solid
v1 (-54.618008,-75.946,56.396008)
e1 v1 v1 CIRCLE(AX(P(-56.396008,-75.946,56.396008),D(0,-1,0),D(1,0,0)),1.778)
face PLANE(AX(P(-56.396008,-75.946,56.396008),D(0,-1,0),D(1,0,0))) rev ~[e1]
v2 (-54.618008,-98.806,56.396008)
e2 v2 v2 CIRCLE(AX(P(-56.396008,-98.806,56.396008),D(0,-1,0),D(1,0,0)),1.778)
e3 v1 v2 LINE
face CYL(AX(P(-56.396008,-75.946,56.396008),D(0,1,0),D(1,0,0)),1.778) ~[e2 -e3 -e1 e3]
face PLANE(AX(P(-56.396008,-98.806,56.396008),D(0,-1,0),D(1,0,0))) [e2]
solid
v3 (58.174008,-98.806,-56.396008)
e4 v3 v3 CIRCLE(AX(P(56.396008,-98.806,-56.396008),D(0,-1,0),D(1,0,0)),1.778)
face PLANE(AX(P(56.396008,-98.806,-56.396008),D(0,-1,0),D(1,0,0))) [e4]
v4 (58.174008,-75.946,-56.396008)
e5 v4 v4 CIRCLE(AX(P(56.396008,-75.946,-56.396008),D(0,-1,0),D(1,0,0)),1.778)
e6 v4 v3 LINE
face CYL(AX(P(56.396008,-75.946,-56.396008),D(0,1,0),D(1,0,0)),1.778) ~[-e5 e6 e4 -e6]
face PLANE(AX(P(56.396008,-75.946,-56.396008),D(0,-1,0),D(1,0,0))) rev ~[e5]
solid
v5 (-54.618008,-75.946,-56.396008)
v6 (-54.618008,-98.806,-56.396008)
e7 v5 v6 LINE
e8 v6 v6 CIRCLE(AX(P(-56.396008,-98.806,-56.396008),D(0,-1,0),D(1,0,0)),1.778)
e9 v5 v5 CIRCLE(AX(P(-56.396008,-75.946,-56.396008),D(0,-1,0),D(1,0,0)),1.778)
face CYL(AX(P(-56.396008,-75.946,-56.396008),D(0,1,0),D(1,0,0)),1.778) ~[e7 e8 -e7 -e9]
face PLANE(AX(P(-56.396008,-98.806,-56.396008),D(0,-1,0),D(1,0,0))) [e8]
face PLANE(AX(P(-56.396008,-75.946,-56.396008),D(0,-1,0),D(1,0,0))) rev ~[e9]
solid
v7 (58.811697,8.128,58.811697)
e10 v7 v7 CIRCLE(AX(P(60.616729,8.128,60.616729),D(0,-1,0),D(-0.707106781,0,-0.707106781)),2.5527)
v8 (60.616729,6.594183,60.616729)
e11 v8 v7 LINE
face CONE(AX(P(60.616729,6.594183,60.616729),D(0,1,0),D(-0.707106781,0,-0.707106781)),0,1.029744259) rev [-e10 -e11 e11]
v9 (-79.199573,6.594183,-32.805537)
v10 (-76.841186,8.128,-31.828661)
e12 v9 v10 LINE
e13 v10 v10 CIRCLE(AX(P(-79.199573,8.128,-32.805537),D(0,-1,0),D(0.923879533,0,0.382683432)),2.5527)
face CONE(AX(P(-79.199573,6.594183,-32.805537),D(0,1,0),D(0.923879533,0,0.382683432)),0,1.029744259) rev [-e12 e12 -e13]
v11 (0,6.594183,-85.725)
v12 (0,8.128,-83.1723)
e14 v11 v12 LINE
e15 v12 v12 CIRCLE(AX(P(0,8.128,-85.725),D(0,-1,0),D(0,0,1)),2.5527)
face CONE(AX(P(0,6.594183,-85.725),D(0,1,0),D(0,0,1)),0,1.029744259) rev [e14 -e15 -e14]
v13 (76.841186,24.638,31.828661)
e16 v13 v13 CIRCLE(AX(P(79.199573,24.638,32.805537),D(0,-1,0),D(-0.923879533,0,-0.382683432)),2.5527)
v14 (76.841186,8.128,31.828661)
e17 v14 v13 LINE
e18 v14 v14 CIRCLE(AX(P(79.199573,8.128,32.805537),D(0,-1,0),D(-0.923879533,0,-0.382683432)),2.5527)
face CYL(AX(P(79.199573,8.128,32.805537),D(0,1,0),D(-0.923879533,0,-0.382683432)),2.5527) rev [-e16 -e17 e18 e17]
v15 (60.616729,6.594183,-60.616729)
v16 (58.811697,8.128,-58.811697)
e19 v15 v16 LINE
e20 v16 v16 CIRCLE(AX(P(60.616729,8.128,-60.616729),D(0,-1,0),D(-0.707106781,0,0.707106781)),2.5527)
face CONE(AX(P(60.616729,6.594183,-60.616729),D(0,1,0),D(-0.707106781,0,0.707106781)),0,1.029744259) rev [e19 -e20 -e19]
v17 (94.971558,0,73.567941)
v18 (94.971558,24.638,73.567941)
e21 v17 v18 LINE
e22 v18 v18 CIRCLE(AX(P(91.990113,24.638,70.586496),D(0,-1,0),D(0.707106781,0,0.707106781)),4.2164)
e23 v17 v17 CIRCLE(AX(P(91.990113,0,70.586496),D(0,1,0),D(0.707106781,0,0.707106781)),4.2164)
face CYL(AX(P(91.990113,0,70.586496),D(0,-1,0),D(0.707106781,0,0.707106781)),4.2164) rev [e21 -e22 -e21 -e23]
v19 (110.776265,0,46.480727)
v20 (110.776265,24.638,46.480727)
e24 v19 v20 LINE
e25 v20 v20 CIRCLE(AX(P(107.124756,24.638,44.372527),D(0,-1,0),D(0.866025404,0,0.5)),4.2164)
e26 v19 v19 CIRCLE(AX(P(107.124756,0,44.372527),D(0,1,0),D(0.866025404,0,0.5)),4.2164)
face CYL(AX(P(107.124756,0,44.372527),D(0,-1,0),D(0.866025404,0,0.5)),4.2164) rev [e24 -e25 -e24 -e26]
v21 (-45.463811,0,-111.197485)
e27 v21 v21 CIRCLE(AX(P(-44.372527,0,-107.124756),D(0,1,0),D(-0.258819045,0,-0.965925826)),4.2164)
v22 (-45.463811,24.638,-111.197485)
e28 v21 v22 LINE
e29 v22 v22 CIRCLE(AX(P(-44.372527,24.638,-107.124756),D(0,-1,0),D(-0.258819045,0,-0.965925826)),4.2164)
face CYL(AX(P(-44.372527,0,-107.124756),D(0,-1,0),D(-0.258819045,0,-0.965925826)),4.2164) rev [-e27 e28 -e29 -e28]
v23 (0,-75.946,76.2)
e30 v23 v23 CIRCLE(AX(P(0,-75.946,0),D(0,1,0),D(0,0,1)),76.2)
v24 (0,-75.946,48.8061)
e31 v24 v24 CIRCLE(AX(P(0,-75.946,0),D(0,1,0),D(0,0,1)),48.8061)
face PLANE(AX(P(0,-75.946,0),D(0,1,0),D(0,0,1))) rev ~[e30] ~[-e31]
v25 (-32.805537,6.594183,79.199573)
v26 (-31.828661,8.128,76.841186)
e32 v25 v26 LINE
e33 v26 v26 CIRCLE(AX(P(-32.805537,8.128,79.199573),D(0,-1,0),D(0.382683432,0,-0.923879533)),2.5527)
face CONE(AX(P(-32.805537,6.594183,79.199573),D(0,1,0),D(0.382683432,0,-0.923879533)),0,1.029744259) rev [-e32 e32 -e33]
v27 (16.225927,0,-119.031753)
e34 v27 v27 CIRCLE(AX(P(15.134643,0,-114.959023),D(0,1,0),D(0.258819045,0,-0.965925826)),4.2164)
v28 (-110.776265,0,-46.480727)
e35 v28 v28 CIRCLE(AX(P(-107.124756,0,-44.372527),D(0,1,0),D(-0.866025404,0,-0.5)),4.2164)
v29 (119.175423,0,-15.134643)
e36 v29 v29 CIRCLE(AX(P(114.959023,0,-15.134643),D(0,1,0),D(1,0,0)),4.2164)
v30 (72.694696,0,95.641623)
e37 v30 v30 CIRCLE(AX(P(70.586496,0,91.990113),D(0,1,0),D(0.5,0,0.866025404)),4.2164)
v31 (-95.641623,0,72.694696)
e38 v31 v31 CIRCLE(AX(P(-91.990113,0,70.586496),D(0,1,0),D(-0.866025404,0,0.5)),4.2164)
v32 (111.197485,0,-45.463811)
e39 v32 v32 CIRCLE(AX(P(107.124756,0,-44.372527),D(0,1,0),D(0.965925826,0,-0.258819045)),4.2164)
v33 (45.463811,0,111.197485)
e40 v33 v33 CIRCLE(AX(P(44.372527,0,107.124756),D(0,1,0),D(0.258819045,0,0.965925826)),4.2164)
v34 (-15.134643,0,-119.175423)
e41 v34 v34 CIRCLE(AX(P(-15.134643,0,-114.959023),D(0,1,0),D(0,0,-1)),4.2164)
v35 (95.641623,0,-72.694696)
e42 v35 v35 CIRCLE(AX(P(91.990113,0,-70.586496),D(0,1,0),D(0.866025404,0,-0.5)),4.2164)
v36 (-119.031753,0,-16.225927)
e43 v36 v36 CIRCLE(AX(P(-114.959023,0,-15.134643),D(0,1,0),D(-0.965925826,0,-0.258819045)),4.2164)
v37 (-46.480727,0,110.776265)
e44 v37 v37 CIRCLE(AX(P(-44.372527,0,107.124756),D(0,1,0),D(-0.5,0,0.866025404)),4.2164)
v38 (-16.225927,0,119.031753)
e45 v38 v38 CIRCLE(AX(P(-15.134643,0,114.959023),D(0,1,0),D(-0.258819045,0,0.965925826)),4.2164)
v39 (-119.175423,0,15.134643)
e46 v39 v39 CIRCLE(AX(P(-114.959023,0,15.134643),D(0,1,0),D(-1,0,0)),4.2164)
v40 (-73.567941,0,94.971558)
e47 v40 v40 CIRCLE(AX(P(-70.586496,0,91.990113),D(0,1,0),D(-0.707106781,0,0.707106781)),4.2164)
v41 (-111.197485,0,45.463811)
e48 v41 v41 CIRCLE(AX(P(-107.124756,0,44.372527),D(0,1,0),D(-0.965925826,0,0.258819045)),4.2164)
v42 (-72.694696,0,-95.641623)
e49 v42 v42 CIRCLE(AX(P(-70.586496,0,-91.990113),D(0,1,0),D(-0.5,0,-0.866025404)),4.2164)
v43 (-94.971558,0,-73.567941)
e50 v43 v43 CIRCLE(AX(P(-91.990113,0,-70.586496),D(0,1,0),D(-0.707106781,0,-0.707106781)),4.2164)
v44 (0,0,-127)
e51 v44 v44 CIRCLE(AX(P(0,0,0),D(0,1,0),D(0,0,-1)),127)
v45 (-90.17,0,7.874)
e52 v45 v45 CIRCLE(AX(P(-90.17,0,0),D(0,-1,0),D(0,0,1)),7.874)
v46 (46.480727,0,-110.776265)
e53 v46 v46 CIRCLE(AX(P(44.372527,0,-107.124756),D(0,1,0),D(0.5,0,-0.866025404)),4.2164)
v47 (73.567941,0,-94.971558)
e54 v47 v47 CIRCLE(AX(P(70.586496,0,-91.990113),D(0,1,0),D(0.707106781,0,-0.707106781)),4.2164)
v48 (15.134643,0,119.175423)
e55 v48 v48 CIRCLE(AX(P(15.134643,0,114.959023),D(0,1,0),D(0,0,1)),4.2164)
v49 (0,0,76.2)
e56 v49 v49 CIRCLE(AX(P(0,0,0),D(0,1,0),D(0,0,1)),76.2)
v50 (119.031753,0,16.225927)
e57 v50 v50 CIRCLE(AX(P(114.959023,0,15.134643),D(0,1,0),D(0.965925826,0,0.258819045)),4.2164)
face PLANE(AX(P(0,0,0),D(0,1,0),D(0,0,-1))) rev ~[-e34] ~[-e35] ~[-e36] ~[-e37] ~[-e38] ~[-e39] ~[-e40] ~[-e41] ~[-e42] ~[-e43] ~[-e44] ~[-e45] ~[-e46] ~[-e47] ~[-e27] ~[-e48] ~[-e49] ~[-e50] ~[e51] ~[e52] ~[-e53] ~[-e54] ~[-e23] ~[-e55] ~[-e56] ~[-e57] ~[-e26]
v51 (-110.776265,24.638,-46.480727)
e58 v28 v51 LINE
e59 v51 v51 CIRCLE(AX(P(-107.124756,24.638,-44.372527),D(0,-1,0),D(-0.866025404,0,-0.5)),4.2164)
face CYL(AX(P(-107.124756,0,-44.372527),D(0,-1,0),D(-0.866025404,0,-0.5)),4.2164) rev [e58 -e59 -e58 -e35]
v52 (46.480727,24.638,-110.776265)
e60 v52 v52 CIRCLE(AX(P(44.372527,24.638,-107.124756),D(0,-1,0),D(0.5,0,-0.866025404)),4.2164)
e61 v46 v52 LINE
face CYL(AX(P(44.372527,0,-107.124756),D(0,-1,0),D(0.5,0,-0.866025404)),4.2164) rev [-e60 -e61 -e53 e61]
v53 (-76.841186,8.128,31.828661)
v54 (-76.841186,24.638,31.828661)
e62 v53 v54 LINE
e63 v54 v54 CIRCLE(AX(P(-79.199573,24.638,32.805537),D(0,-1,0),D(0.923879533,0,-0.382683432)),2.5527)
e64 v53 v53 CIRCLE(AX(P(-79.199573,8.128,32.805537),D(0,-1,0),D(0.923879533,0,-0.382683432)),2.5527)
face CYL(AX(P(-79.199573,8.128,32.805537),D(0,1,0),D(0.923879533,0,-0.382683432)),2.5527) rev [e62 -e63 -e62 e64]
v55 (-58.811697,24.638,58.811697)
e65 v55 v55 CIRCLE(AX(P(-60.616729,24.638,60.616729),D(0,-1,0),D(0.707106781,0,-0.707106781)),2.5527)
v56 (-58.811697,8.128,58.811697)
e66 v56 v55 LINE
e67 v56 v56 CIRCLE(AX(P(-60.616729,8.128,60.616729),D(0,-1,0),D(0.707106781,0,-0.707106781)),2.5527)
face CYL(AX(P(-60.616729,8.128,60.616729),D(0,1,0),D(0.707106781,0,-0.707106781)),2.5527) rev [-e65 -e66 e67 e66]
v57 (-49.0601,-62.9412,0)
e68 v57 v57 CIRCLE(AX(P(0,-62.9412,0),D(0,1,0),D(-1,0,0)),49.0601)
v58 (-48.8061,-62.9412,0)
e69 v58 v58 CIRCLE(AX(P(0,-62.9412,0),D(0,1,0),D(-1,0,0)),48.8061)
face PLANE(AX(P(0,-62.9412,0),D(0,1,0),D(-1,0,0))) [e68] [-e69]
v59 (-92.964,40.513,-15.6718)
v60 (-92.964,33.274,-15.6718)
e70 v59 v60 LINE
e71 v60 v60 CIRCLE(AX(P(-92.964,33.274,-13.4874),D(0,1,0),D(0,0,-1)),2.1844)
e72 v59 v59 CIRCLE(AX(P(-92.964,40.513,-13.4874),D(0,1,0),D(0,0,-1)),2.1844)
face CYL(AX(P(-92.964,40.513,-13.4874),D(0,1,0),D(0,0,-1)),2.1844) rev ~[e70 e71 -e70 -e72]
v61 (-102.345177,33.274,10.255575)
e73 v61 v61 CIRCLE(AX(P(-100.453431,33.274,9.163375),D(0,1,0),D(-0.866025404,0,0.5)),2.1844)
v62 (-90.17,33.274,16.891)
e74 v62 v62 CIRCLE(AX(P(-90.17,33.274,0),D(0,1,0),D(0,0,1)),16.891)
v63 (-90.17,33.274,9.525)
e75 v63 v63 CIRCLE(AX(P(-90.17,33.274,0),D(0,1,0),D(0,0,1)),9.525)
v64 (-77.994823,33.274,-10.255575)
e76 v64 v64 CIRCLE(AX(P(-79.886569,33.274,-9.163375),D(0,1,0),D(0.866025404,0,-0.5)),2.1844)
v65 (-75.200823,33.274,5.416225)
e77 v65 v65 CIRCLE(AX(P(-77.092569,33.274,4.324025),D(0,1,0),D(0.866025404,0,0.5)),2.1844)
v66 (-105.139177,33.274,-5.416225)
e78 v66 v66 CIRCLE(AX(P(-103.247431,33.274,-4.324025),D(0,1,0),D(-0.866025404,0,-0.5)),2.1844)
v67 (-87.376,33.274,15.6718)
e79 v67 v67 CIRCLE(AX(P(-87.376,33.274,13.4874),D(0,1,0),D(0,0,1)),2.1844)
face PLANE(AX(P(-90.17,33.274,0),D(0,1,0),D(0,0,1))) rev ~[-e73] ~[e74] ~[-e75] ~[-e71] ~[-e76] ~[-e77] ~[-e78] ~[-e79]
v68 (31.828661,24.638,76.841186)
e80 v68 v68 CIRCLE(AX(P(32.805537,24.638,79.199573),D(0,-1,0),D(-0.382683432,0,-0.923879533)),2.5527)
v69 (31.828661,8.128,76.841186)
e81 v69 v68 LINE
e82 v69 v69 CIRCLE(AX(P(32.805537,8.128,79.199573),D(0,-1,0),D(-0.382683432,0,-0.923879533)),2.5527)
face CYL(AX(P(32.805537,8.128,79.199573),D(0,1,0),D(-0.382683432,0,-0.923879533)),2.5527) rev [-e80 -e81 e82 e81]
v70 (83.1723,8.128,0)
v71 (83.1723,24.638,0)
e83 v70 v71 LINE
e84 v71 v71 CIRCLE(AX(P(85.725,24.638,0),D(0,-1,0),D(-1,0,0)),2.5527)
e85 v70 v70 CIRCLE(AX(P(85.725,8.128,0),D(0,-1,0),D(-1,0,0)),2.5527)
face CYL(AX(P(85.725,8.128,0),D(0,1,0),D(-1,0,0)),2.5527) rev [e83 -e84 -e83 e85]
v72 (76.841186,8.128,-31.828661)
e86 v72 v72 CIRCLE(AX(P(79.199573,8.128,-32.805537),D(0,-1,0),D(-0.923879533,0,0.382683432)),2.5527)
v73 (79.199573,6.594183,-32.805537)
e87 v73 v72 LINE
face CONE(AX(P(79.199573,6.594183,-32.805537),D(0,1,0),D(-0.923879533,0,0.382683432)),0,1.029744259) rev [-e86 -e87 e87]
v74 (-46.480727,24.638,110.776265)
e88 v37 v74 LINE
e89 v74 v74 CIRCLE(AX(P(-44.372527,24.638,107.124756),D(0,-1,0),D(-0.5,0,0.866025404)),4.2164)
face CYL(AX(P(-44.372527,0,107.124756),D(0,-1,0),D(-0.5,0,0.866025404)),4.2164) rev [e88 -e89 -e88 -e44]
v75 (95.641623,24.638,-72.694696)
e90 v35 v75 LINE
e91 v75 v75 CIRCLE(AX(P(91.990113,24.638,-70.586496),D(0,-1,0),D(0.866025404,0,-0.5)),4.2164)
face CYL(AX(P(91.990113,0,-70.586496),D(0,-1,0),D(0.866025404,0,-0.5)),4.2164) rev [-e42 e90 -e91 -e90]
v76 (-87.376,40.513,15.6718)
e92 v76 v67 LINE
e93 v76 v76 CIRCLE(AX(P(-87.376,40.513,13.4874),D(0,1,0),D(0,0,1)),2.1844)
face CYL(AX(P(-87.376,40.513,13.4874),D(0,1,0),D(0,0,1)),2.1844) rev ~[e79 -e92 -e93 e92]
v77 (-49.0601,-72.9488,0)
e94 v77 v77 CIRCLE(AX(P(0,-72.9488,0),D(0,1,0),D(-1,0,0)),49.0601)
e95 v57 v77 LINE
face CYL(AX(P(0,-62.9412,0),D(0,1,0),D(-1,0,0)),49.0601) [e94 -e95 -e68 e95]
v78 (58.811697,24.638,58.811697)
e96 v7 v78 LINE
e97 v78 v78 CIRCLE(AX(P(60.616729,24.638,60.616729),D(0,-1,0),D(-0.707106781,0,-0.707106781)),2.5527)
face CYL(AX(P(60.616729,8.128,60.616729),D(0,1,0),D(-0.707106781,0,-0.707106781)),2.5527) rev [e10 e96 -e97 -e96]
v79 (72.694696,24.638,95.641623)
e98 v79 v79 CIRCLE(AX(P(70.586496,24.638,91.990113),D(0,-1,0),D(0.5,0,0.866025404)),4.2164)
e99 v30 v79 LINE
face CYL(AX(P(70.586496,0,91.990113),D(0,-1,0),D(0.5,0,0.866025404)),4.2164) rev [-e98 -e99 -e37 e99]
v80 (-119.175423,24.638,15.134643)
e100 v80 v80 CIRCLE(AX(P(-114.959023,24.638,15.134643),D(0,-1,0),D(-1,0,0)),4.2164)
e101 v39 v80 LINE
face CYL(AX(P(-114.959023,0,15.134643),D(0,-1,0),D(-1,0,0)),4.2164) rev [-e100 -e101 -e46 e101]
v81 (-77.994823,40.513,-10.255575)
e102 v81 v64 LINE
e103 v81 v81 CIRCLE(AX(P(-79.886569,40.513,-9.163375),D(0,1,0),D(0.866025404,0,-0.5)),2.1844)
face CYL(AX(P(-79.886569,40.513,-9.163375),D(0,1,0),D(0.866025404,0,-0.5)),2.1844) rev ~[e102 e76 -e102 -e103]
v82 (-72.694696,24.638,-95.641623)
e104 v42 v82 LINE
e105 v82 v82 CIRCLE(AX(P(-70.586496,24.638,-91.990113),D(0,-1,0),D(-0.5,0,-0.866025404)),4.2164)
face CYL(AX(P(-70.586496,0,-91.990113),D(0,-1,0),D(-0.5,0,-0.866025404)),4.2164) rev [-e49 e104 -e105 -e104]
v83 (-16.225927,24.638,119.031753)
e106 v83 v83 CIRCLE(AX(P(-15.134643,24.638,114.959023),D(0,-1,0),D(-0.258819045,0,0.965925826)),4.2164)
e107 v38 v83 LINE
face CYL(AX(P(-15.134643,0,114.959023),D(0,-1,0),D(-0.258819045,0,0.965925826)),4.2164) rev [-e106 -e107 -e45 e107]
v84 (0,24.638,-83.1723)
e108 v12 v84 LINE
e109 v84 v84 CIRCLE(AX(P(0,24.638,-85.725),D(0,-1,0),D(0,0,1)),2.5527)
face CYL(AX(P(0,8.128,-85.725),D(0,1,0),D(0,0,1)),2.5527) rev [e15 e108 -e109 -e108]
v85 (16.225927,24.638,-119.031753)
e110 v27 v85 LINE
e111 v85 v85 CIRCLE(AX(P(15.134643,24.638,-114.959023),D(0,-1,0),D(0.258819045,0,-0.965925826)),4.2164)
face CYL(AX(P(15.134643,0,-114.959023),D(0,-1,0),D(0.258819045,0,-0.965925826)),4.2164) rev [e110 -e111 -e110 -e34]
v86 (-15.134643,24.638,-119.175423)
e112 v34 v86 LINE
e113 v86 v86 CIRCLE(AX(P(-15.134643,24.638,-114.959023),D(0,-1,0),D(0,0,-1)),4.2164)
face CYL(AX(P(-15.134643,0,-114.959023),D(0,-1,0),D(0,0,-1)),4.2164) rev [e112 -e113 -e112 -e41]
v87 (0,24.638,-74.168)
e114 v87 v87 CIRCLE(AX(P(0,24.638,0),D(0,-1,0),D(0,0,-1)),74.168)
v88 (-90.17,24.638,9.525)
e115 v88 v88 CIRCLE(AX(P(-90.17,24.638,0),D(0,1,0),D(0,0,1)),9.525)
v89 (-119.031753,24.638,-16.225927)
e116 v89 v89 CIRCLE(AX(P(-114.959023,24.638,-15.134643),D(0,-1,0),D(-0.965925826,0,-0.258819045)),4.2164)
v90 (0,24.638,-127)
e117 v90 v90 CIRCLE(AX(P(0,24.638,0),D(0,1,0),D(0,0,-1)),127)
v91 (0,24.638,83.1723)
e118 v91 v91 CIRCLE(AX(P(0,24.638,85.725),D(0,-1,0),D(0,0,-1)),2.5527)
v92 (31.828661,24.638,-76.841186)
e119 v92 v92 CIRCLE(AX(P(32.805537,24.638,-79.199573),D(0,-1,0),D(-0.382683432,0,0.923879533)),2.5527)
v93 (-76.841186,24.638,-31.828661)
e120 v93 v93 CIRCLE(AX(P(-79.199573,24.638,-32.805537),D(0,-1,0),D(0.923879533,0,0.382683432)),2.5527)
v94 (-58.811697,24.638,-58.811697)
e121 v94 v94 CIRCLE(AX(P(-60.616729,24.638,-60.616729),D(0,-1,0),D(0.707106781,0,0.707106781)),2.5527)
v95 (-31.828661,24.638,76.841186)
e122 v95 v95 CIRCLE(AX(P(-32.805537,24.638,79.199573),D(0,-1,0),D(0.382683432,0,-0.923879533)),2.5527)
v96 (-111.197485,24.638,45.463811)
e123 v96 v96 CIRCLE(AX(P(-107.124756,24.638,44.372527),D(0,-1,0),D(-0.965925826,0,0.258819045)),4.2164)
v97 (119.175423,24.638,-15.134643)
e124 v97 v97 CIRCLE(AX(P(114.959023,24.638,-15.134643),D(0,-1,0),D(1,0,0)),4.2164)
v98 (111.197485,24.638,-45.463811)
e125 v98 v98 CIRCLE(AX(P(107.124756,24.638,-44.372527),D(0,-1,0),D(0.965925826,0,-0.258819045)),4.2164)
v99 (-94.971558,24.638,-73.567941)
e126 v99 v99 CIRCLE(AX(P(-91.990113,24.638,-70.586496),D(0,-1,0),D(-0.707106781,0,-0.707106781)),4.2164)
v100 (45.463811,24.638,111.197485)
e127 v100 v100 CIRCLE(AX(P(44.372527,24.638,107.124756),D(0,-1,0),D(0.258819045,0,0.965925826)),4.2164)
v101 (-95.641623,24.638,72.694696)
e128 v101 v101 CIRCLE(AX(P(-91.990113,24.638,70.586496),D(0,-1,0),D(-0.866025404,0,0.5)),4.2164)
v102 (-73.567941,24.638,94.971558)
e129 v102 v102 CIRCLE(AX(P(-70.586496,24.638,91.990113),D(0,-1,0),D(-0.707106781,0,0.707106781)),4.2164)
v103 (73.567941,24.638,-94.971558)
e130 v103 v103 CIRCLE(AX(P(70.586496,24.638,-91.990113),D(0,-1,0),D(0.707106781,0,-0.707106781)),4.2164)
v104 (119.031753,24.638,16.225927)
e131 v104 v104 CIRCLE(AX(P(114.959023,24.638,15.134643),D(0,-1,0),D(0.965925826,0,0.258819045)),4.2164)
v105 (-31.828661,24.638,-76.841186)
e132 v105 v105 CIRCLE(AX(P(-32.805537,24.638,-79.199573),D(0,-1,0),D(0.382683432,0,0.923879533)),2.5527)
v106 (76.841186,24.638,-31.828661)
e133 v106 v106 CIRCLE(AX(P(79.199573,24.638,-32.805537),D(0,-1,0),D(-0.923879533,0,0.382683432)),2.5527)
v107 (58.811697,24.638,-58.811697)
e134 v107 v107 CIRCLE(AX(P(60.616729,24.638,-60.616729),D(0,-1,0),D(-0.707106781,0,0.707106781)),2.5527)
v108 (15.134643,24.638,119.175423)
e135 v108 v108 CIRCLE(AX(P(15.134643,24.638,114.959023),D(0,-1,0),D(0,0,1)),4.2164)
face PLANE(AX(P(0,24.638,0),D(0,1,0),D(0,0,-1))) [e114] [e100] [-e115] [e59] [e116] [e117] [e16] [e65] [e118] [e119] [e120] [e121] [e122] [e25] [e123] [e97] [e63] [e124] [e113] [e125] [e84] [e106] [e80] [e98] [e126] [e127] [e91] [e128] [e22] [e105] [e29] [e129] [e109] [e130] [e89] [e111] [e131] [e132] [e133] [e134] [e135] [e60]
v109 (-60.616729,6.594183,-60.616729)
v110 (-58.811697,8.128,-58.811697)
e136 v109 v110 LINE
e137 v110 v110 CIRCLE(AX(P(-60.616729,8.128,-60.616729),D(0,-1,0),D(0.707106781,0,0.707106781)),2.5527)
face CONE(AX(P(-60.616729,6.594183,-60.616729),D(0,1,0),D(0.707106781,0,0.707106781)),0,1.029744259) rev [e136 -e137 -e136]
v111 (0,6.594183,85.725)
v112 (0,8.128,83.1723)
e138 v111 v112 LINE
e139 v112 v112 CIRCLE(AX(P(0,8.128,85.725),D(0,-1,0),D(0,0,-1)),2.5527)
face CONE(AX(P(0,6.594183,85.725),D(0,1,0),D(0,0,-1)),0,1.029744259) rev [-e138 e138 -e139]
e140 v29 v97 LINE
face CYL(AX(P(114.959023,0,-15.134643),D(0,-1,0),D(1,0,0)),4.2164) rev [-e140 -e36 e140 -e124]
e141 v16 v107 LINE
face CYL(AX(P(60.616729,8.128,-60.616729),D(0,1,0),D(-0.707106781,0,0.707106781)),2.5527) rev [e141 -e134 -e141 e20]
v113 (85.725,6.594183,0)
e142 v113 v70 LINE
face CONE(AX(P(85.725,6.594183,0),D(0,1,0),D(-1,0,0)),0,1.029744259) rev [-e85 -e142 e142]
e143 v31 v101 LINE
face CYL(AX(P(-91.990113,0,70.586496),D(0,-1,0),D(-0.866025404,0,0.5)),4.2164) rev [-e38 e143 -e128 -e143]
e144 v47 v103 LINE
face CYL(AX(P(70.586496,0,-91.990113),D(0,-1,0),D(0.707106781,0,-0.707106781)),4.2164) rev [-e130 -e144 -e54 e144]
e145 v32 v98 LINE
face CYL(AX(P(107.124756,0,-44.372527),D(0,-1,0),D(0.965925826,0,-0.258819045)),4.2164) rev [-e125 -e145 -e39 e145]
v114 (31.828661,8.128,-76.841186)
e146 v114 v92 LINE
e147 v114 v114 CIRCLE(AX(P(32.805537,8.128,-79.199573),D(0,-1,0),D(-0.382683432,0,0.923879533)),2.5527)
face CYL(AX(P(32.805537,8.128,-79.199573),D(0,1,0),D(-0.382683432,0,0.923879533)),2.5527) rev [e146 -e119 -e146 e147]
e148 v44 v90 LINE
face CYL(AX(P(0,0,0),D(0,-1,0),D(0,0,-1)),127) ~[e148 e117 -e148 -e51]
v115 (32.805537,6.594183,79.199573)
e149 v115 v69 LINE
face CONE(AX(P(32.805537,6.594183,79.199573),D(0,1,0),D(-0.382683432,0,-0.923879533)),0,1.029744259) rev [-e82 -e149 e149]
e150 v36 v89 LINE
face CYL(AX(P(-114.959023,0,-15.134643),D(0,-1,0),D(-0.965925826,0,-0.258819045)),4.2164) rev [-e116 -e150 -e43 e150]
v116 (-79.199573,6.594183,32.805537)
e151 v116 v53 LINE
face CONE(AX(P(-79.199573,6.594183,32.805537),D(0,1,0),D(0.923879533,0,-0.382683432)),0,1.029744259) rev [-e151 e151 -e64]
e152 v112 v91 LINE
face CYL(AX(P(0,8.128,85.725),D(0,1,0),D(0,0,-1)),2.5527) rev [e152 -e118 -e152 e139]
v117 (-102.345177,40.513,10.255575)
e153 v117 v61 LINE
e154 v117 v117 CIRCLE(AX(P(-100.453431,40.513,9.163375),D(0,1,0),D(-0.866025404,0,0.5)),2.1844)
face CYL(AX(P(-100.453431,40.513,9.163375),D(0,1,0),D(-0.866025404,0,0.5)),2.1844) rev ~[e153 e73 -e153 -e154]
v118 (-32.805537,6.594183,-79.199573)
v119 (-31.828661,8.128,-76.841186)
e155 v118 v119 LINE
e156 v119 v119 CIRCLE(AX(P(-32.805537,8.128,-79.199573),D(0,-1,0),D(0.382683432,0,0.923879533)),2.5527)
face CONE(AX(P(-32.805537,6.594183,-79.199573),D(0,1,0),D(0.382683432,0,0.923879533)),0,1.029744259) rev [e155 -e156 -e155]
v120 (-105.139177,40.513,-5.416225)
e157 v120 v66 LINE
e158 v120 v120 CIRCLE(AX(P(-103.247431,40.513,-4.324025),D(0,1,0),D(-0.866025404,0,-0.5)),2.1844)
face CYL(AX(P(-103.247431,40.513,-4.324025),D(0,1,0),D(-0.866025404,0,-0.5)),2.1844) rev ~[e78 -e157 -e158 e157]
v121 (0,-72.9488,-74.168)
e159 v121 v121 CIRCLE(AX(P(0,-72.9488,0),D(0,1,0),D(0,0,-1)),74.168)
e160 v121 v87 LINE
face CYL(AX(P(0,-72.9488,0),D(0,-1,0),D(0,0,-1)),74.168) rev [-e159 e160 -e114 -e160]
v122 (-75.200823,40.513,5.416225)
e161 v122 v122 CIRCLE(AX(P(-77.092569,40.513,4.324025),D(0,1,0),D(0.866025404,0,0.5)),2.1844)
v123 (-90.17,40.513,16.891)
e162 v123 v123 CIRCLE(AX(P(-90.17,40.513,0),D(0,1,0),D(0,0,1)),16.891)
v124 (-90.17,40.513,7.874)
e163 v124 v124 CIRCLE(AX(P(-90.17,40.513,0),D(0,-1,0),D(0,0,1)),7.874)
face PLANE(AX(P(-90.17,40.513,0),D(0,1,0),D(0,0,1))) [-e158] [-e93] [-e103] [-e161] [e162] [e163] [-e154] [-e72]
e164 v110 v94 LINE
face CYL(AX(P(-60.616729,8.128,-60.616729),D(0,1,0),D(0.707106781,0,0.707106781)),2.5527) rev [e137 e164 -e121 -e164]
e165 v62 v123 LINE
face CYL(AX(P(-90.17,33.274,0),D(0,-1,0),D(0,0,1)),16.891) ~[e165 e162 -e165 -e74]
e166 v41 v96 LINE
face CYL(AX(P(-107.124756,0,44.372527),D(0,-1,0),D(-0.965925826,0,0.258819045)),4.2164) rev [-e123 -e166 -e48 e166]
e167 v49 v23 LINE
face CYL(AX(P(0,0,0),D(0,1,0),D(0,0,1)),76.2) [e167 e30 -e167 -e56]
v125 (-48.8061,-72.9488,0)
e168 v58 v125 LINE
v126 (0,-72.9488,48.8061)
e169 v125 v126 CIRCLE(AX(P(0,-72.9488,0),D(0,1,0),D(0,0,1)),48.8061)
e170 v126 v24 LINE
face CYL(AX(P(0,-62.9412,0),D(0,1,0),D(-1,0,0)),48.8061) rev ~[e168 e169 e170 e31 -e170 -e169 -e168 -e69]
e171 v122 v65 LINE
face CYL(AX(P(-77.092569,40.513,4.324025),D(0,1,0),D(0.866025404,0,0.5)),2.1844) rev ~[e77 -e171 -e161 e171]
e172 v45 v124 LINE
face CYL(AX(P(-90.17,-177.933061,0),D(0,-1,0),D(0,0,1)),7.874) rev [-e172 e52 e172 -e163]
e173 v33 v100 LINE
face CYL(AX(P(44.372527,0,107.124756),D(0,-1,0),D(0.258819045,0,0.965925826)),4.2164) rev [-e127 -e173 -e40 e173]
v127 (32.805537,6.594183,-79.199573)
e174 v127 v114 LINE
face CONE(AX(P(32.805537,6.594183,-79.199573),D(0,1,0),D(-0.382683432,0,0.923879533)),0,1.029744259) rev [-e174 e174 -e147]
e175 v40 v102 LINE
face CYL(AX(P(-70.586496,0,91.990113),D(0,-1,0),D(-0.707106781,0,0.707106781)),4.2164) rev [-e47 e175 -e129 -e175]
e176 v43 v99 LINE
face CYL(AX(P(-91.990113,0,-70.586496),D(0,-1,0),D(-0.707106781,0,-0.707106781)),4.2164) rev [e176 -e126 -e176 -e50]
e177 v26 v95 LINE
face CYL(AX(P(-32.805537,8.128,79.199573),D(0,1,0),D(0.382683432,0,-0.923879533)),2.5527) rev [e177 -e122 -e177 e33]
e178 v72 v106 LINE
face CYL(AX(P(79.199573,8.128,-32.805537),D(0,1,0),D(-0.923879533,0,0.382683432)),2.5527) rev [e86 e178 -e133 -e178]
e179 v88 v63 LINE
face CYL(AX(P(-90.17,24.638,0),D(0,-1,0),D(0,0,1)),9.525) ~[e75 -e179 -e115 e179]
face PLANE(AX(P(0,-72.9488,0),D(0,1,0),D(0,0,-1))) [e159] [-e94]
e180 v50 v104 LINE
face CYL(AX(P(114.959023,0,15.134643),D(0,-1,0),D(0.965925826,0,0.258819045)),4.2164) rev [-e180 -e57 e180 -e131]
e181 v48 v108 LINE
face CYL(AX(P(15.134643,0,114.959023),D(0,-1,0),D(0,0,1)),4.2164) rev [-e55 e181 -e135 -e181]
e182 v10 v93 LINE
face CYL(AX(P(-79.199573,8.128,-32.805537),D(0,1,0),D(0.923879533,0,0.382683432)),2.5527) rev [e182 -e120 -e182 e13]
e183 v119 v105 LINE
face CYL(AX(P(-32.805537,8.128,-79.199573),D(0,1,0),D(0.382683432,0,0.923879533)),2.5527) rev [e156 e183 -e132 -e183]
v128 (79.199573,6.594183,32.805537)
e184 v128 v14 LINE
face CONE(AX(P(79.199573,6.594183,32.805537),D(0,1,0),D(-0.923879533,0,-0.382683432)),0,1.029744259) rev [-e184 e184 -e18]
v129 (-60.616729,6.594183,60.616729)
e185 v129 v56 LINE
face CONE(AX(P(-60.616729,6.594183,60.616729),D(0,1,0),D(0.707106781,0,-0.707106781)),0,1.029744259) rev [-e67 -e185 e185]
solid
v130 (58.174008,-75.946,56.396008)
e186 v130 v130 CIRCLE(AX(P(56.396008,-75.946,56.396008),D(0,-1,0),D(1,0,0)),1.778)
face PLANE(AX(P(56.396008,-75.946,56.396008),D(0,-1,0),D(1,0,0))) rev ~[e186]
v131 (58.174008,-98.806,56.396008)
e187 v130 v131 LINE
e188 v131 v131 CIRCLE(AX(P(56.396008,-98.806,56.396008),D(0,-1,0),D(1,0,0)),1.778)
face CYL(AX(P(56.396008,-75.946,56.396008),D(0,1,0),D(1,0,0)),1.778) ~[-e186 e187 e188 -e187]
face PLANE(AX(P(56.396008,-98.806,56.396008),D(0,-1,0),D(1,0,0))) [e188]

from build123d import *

# Parameters (mm, degrees)
SKETCH1_R               = 76.2
EXTRUDE1_DEPTH          = 75.946
SKETCH2_R               = 127
EXTRUDE2_DEPTH          = 24.638
CUT_EXTRUDE1_DEPTH      = 196.002038236
CUT_EXTRUDE1_DEPTH_BACK = 72.9488
SKETCH3_R               = 74.168
SKETCH4_R               = 48.8061
CUT_EXTRUDE2_DEPTH      = 196.002038236
CIRPATTERN2_COUNT       = 16
SKETCH5_R               = 4.2164
CUT_EXTRUDE5_DEPTH      = 196.002038236
CIRPATTERN3_COUNT       = 24
SKETCH16_R              = 9.525
EXTRUDE3_DEPTH          = 8.636
SKETCH17_R              = 16.891
EXTRUDE5_DEPTH          = 7.239
CUT_EXTRUDE6_DEPTH      = 211.207060776
CUT_EXTRUDE6_DEPTH_BACK = 211.207060776
SKETCH21_R              = 7.874
SKETCH22_R              = 2.1844
CUT_EXTRUDE7_DEPTH      = 7.239
CIRPATTERN4_COUNT       = 6
EXTRUDE_THIN1_START     = 10.0076
SKETCH25_R              = 49.0601
SKETCH25_R_2            = 48.8061
EXTRUDE_THIN1_DEPTH     = 10.0076
SKETCH29_R              = 1.778
EXTRUDE7_DEPTH          = 22.86
EXTRUDE7_2_DEPTH        = 22.86
EXTRUDE7_3_DEPTH        = 22.86
EXTRUDE7_4_DEPTH        = 22.86


with BuildPart() as part:
    # Sketch1 → Extrude1 (new body)
    with BuildSketch(Plane(origin=(0, 0, 0), x_dir=(1, 0, 0), z_dir=(0, 1, 0))):
        with Locations(Location((0, 0, 0), (0, 0, 270))):
            Circle(SKETCH1_R)
    extrude(amount=-EXTRUDE1_DEPTH)

    # Sketch2 → Extrude2 (add)
    with BuildSketch(Plane(origin=(0, 0, 0), x_dir=(1, 0, 0), z_dir=(0, 1, 0))):
        with Locations(Location((0, 0, 0), (0, 0, 90))):
            Circle(SKETCH2_R)
    extrude(amount=EXTRUDE2_DEPTH)

    # Sketch3 → Cut-Extrude1 (cut, two sides: drawn at the far end of the back side and taken through both)
    with BuildSketch(Plane(origin=(0, 0, 0), x_dir=(1, 0, 0), z_dir=(0, 1, 0)).offset(-CUT_EXTRUDE1_DEPTH_BACK)):
        with Locations(Location((0, 0, 0), (0, 0, 90))):
            Circle(SKETCH3_R)
    extrude(amount=CUT_EXTRUDE1_DEPTH + CUT_EXTRUDE1_DEPTH_BACK, mode=Mode.SUBTRACT)

    # Sketch4 → Cut-Extrude2 (cut, through all)
    with BuildSketch(Plane(origin=(0, 0, 0), x_dir=(1, 0, 0), z_dir=(0, 1, 0))):
        with Locations(Location((0, 0, 0), (0, 0, 270))):
            Circle(SKETCH4_R)
    extrude(amount=-CUT_EXTRUDE2_DEPTH, mode=Mode.SUBTRACT)

    # Sketch11 → 1/4-20 Tapped Hole1 (revolve, cut)
    with BuildSketch(Plane(origin=(0, 24.638, -85.725), x_dir=(0, 0, 1), z_dir=(1, 0, 0))):
        Polygon((0, 0), (0, 18.043816902), (2.5527, 16.51), (2.5527, 0), align=None)
    f_1_4_20_tapped_hole1 = revolve(axis=Axis((0, 30.988, -85.725), (0, -1, 0)), mode=Mode.SUBTRACT)

    # CirPattern2: 1/4-20 Tapped Hole1 ×16 about axis, 1 skipped
    cirpattern2_axis = Axis((0, 0, 0), (0, 1, 0))
    add([f_1_4_20_tapped_hole1.rotate(cirpattern2_axis, i * 360 / CIRPATTERN2_COUNT) for i in range(1, CIRPATTERN2_COUNT) if i not in (4,)], mode=Mode.SUBTRACT)

    # Sketch5 → Cut-Extrude5 (cut, through all)
    with BuildSketch(Plane(origin=(0, 0, 0), x_dir=(1, 0, 0), z_dir=(0, 1, 0))):
        with Locations(Location((-15.134642514, 114.959023121, 0), (0, 0, 90))):
            Circle(SKETCH5_R)
    cut_extrude5 = extrude(amount=CUT_EXTRUDE5_DEPTH, mode=Mode.SUBTRACT)

    # CirPattern3: Cut-Extrude5 ×24 about axis
    cirpattern3_axis = Axis((0, 0, 0), (0, 1, 0))
    for i in range(1, CIRPATTERN3_COUNT):
        add(cut_extrude5.rotate(cirpattern3_axis, i * 360 / CIRPATTERN3_COUNT), mode=Mode.SUBTRACT)

    # Sketch16 → Extrude3 (add)
    with BuildSketch(Plane(origin=(0, 24.638, 0), x_dir=(-1, 0, 0), z_dir=(0, 1, 0))):
        with Locations(Location((90.17, 0, 0), (0, 0, 90))):
            Circle(SKETCH16_R)
    extrude(amount=EXTRUDE3_DEPTH)

    # Sketch17 → Extrude5 (add)
    with BuildSketch(Plane(origin=(0, 33.274, 0), x_dir=(-1, 0, 0), z_dir=(0, 1, 0))):
        with Locations(Location((90.17, 0, 0), (0, 0, 90))):
            Circle(SKETCH17_R)
    extrude(amount=EXTRUDE5_DEPTH)

    # Sketch21 → Cut-Extrude6 (cut, two sides: drawn at the far end of the back side and taken through both)
    with BuildSketch(Plane(origin=(0, 33.274, 0), x_dir=(-1, 0, 0), z_dir=(0, 1, 0)).offset(-CUT_EXTRUDE6_DEPTH_BACK)):
        with Locations(Location((90.17, 0, 0), (0, 0, 90))):
            Circle(SKETCH21_R)
    extrude(amount=CUT_EXTRUDE6_DEPTH + CUT_EXTRUDE6_DEPTH_BACK, mode=Mode.SUBTRACT)

    # Sketch22 → Cut-Extrude7 (cut)
    with BuildSketch(Plane(origin=(0, 40.513, 0), x_dir=(-1, 0, 0), z_dir=(0, 1, 0))):
        with Locations(Location((87.376, 13.4874, 0), (0, 0, 90))):
            Circle(SKETCH22_R)
    cut_extrude7 = extrude(amount=-CUT_EXTRUDE7_DEPTH, mode=Mode.SUBTRACT)

    # CirPattern4: Cut-Extrude7 ×6 about axis
    cirpattern4_axis = Axis((-90.17, 0, 0), (0, 1, 0))
    for i in range(1, CIRPATTERN4_COUNT):
        add(cut_extrude7.rotate(cirpattern4_axis, i * 360 / CIRPATTERN4_COUNT), mode=Mode.SUBTRACT)

    # Sketch25 → Extrude-Thin1 (add)
    with BuildSketch(Plane(origin=(0, -72.9488, 0), x_dir=(-1, 0, 0), z_dir=(0, 1, 0)).offset(EXTRUDE_THIN1_START)):
        Circle(SKETCH25_R)
        Circle(SKETCH25_R_2, mode=Mode.SUBTRACT)
    extrude(amount=-EXTRUDE_THIN1_DEPTH)


with BuildPart() as body_2:
    # Sketch29 → Extrude7 (new body)
    with BuildSketch(Plane.XZ.offset(75.946)):
        with Locations((-56.39600844, 56.39600844)):
            Circle(SKETCH29_R)
    extrude(amount=EXTRUDE7_DEPTH)


with BuildPart() as body_3:
    # Sketch29 → Extrude7 2 (new body)
    with BuildSketch(Plane.XZ.offset(75.946)):
        with Locations((-56.39600844, -56.39600844)):
            Circle(SKETCH29_R)
    extrude(amount=EXTRUDE7_2_DEPTH)


with BuildPart() as body_4:
    # Sketch29 → Extrude7 3 (new body)
    with BuildSketch(Plane.XZ.offset(75.946)):
        with Locations((56.39600844, -56.39600844)):
            Circle(SKETCH29_R)
    extrude(amount=EXTRUDE7_3_DEPTH)


with BuildPart() as body_5:
    # Sketch29 → Extrude7 4 (new body)
    with BuildSketch(Plane.XZ.offset(75.946)):
        with Locations((56.39600844, 56.39600844)):
            Circle(SKETCH29_R)
    extrude(amount=EXTRUDE7_4_DEPTH)


solid = Compound([part.part, body_2.part, body_3.part, body_4.part, body_5.part])
